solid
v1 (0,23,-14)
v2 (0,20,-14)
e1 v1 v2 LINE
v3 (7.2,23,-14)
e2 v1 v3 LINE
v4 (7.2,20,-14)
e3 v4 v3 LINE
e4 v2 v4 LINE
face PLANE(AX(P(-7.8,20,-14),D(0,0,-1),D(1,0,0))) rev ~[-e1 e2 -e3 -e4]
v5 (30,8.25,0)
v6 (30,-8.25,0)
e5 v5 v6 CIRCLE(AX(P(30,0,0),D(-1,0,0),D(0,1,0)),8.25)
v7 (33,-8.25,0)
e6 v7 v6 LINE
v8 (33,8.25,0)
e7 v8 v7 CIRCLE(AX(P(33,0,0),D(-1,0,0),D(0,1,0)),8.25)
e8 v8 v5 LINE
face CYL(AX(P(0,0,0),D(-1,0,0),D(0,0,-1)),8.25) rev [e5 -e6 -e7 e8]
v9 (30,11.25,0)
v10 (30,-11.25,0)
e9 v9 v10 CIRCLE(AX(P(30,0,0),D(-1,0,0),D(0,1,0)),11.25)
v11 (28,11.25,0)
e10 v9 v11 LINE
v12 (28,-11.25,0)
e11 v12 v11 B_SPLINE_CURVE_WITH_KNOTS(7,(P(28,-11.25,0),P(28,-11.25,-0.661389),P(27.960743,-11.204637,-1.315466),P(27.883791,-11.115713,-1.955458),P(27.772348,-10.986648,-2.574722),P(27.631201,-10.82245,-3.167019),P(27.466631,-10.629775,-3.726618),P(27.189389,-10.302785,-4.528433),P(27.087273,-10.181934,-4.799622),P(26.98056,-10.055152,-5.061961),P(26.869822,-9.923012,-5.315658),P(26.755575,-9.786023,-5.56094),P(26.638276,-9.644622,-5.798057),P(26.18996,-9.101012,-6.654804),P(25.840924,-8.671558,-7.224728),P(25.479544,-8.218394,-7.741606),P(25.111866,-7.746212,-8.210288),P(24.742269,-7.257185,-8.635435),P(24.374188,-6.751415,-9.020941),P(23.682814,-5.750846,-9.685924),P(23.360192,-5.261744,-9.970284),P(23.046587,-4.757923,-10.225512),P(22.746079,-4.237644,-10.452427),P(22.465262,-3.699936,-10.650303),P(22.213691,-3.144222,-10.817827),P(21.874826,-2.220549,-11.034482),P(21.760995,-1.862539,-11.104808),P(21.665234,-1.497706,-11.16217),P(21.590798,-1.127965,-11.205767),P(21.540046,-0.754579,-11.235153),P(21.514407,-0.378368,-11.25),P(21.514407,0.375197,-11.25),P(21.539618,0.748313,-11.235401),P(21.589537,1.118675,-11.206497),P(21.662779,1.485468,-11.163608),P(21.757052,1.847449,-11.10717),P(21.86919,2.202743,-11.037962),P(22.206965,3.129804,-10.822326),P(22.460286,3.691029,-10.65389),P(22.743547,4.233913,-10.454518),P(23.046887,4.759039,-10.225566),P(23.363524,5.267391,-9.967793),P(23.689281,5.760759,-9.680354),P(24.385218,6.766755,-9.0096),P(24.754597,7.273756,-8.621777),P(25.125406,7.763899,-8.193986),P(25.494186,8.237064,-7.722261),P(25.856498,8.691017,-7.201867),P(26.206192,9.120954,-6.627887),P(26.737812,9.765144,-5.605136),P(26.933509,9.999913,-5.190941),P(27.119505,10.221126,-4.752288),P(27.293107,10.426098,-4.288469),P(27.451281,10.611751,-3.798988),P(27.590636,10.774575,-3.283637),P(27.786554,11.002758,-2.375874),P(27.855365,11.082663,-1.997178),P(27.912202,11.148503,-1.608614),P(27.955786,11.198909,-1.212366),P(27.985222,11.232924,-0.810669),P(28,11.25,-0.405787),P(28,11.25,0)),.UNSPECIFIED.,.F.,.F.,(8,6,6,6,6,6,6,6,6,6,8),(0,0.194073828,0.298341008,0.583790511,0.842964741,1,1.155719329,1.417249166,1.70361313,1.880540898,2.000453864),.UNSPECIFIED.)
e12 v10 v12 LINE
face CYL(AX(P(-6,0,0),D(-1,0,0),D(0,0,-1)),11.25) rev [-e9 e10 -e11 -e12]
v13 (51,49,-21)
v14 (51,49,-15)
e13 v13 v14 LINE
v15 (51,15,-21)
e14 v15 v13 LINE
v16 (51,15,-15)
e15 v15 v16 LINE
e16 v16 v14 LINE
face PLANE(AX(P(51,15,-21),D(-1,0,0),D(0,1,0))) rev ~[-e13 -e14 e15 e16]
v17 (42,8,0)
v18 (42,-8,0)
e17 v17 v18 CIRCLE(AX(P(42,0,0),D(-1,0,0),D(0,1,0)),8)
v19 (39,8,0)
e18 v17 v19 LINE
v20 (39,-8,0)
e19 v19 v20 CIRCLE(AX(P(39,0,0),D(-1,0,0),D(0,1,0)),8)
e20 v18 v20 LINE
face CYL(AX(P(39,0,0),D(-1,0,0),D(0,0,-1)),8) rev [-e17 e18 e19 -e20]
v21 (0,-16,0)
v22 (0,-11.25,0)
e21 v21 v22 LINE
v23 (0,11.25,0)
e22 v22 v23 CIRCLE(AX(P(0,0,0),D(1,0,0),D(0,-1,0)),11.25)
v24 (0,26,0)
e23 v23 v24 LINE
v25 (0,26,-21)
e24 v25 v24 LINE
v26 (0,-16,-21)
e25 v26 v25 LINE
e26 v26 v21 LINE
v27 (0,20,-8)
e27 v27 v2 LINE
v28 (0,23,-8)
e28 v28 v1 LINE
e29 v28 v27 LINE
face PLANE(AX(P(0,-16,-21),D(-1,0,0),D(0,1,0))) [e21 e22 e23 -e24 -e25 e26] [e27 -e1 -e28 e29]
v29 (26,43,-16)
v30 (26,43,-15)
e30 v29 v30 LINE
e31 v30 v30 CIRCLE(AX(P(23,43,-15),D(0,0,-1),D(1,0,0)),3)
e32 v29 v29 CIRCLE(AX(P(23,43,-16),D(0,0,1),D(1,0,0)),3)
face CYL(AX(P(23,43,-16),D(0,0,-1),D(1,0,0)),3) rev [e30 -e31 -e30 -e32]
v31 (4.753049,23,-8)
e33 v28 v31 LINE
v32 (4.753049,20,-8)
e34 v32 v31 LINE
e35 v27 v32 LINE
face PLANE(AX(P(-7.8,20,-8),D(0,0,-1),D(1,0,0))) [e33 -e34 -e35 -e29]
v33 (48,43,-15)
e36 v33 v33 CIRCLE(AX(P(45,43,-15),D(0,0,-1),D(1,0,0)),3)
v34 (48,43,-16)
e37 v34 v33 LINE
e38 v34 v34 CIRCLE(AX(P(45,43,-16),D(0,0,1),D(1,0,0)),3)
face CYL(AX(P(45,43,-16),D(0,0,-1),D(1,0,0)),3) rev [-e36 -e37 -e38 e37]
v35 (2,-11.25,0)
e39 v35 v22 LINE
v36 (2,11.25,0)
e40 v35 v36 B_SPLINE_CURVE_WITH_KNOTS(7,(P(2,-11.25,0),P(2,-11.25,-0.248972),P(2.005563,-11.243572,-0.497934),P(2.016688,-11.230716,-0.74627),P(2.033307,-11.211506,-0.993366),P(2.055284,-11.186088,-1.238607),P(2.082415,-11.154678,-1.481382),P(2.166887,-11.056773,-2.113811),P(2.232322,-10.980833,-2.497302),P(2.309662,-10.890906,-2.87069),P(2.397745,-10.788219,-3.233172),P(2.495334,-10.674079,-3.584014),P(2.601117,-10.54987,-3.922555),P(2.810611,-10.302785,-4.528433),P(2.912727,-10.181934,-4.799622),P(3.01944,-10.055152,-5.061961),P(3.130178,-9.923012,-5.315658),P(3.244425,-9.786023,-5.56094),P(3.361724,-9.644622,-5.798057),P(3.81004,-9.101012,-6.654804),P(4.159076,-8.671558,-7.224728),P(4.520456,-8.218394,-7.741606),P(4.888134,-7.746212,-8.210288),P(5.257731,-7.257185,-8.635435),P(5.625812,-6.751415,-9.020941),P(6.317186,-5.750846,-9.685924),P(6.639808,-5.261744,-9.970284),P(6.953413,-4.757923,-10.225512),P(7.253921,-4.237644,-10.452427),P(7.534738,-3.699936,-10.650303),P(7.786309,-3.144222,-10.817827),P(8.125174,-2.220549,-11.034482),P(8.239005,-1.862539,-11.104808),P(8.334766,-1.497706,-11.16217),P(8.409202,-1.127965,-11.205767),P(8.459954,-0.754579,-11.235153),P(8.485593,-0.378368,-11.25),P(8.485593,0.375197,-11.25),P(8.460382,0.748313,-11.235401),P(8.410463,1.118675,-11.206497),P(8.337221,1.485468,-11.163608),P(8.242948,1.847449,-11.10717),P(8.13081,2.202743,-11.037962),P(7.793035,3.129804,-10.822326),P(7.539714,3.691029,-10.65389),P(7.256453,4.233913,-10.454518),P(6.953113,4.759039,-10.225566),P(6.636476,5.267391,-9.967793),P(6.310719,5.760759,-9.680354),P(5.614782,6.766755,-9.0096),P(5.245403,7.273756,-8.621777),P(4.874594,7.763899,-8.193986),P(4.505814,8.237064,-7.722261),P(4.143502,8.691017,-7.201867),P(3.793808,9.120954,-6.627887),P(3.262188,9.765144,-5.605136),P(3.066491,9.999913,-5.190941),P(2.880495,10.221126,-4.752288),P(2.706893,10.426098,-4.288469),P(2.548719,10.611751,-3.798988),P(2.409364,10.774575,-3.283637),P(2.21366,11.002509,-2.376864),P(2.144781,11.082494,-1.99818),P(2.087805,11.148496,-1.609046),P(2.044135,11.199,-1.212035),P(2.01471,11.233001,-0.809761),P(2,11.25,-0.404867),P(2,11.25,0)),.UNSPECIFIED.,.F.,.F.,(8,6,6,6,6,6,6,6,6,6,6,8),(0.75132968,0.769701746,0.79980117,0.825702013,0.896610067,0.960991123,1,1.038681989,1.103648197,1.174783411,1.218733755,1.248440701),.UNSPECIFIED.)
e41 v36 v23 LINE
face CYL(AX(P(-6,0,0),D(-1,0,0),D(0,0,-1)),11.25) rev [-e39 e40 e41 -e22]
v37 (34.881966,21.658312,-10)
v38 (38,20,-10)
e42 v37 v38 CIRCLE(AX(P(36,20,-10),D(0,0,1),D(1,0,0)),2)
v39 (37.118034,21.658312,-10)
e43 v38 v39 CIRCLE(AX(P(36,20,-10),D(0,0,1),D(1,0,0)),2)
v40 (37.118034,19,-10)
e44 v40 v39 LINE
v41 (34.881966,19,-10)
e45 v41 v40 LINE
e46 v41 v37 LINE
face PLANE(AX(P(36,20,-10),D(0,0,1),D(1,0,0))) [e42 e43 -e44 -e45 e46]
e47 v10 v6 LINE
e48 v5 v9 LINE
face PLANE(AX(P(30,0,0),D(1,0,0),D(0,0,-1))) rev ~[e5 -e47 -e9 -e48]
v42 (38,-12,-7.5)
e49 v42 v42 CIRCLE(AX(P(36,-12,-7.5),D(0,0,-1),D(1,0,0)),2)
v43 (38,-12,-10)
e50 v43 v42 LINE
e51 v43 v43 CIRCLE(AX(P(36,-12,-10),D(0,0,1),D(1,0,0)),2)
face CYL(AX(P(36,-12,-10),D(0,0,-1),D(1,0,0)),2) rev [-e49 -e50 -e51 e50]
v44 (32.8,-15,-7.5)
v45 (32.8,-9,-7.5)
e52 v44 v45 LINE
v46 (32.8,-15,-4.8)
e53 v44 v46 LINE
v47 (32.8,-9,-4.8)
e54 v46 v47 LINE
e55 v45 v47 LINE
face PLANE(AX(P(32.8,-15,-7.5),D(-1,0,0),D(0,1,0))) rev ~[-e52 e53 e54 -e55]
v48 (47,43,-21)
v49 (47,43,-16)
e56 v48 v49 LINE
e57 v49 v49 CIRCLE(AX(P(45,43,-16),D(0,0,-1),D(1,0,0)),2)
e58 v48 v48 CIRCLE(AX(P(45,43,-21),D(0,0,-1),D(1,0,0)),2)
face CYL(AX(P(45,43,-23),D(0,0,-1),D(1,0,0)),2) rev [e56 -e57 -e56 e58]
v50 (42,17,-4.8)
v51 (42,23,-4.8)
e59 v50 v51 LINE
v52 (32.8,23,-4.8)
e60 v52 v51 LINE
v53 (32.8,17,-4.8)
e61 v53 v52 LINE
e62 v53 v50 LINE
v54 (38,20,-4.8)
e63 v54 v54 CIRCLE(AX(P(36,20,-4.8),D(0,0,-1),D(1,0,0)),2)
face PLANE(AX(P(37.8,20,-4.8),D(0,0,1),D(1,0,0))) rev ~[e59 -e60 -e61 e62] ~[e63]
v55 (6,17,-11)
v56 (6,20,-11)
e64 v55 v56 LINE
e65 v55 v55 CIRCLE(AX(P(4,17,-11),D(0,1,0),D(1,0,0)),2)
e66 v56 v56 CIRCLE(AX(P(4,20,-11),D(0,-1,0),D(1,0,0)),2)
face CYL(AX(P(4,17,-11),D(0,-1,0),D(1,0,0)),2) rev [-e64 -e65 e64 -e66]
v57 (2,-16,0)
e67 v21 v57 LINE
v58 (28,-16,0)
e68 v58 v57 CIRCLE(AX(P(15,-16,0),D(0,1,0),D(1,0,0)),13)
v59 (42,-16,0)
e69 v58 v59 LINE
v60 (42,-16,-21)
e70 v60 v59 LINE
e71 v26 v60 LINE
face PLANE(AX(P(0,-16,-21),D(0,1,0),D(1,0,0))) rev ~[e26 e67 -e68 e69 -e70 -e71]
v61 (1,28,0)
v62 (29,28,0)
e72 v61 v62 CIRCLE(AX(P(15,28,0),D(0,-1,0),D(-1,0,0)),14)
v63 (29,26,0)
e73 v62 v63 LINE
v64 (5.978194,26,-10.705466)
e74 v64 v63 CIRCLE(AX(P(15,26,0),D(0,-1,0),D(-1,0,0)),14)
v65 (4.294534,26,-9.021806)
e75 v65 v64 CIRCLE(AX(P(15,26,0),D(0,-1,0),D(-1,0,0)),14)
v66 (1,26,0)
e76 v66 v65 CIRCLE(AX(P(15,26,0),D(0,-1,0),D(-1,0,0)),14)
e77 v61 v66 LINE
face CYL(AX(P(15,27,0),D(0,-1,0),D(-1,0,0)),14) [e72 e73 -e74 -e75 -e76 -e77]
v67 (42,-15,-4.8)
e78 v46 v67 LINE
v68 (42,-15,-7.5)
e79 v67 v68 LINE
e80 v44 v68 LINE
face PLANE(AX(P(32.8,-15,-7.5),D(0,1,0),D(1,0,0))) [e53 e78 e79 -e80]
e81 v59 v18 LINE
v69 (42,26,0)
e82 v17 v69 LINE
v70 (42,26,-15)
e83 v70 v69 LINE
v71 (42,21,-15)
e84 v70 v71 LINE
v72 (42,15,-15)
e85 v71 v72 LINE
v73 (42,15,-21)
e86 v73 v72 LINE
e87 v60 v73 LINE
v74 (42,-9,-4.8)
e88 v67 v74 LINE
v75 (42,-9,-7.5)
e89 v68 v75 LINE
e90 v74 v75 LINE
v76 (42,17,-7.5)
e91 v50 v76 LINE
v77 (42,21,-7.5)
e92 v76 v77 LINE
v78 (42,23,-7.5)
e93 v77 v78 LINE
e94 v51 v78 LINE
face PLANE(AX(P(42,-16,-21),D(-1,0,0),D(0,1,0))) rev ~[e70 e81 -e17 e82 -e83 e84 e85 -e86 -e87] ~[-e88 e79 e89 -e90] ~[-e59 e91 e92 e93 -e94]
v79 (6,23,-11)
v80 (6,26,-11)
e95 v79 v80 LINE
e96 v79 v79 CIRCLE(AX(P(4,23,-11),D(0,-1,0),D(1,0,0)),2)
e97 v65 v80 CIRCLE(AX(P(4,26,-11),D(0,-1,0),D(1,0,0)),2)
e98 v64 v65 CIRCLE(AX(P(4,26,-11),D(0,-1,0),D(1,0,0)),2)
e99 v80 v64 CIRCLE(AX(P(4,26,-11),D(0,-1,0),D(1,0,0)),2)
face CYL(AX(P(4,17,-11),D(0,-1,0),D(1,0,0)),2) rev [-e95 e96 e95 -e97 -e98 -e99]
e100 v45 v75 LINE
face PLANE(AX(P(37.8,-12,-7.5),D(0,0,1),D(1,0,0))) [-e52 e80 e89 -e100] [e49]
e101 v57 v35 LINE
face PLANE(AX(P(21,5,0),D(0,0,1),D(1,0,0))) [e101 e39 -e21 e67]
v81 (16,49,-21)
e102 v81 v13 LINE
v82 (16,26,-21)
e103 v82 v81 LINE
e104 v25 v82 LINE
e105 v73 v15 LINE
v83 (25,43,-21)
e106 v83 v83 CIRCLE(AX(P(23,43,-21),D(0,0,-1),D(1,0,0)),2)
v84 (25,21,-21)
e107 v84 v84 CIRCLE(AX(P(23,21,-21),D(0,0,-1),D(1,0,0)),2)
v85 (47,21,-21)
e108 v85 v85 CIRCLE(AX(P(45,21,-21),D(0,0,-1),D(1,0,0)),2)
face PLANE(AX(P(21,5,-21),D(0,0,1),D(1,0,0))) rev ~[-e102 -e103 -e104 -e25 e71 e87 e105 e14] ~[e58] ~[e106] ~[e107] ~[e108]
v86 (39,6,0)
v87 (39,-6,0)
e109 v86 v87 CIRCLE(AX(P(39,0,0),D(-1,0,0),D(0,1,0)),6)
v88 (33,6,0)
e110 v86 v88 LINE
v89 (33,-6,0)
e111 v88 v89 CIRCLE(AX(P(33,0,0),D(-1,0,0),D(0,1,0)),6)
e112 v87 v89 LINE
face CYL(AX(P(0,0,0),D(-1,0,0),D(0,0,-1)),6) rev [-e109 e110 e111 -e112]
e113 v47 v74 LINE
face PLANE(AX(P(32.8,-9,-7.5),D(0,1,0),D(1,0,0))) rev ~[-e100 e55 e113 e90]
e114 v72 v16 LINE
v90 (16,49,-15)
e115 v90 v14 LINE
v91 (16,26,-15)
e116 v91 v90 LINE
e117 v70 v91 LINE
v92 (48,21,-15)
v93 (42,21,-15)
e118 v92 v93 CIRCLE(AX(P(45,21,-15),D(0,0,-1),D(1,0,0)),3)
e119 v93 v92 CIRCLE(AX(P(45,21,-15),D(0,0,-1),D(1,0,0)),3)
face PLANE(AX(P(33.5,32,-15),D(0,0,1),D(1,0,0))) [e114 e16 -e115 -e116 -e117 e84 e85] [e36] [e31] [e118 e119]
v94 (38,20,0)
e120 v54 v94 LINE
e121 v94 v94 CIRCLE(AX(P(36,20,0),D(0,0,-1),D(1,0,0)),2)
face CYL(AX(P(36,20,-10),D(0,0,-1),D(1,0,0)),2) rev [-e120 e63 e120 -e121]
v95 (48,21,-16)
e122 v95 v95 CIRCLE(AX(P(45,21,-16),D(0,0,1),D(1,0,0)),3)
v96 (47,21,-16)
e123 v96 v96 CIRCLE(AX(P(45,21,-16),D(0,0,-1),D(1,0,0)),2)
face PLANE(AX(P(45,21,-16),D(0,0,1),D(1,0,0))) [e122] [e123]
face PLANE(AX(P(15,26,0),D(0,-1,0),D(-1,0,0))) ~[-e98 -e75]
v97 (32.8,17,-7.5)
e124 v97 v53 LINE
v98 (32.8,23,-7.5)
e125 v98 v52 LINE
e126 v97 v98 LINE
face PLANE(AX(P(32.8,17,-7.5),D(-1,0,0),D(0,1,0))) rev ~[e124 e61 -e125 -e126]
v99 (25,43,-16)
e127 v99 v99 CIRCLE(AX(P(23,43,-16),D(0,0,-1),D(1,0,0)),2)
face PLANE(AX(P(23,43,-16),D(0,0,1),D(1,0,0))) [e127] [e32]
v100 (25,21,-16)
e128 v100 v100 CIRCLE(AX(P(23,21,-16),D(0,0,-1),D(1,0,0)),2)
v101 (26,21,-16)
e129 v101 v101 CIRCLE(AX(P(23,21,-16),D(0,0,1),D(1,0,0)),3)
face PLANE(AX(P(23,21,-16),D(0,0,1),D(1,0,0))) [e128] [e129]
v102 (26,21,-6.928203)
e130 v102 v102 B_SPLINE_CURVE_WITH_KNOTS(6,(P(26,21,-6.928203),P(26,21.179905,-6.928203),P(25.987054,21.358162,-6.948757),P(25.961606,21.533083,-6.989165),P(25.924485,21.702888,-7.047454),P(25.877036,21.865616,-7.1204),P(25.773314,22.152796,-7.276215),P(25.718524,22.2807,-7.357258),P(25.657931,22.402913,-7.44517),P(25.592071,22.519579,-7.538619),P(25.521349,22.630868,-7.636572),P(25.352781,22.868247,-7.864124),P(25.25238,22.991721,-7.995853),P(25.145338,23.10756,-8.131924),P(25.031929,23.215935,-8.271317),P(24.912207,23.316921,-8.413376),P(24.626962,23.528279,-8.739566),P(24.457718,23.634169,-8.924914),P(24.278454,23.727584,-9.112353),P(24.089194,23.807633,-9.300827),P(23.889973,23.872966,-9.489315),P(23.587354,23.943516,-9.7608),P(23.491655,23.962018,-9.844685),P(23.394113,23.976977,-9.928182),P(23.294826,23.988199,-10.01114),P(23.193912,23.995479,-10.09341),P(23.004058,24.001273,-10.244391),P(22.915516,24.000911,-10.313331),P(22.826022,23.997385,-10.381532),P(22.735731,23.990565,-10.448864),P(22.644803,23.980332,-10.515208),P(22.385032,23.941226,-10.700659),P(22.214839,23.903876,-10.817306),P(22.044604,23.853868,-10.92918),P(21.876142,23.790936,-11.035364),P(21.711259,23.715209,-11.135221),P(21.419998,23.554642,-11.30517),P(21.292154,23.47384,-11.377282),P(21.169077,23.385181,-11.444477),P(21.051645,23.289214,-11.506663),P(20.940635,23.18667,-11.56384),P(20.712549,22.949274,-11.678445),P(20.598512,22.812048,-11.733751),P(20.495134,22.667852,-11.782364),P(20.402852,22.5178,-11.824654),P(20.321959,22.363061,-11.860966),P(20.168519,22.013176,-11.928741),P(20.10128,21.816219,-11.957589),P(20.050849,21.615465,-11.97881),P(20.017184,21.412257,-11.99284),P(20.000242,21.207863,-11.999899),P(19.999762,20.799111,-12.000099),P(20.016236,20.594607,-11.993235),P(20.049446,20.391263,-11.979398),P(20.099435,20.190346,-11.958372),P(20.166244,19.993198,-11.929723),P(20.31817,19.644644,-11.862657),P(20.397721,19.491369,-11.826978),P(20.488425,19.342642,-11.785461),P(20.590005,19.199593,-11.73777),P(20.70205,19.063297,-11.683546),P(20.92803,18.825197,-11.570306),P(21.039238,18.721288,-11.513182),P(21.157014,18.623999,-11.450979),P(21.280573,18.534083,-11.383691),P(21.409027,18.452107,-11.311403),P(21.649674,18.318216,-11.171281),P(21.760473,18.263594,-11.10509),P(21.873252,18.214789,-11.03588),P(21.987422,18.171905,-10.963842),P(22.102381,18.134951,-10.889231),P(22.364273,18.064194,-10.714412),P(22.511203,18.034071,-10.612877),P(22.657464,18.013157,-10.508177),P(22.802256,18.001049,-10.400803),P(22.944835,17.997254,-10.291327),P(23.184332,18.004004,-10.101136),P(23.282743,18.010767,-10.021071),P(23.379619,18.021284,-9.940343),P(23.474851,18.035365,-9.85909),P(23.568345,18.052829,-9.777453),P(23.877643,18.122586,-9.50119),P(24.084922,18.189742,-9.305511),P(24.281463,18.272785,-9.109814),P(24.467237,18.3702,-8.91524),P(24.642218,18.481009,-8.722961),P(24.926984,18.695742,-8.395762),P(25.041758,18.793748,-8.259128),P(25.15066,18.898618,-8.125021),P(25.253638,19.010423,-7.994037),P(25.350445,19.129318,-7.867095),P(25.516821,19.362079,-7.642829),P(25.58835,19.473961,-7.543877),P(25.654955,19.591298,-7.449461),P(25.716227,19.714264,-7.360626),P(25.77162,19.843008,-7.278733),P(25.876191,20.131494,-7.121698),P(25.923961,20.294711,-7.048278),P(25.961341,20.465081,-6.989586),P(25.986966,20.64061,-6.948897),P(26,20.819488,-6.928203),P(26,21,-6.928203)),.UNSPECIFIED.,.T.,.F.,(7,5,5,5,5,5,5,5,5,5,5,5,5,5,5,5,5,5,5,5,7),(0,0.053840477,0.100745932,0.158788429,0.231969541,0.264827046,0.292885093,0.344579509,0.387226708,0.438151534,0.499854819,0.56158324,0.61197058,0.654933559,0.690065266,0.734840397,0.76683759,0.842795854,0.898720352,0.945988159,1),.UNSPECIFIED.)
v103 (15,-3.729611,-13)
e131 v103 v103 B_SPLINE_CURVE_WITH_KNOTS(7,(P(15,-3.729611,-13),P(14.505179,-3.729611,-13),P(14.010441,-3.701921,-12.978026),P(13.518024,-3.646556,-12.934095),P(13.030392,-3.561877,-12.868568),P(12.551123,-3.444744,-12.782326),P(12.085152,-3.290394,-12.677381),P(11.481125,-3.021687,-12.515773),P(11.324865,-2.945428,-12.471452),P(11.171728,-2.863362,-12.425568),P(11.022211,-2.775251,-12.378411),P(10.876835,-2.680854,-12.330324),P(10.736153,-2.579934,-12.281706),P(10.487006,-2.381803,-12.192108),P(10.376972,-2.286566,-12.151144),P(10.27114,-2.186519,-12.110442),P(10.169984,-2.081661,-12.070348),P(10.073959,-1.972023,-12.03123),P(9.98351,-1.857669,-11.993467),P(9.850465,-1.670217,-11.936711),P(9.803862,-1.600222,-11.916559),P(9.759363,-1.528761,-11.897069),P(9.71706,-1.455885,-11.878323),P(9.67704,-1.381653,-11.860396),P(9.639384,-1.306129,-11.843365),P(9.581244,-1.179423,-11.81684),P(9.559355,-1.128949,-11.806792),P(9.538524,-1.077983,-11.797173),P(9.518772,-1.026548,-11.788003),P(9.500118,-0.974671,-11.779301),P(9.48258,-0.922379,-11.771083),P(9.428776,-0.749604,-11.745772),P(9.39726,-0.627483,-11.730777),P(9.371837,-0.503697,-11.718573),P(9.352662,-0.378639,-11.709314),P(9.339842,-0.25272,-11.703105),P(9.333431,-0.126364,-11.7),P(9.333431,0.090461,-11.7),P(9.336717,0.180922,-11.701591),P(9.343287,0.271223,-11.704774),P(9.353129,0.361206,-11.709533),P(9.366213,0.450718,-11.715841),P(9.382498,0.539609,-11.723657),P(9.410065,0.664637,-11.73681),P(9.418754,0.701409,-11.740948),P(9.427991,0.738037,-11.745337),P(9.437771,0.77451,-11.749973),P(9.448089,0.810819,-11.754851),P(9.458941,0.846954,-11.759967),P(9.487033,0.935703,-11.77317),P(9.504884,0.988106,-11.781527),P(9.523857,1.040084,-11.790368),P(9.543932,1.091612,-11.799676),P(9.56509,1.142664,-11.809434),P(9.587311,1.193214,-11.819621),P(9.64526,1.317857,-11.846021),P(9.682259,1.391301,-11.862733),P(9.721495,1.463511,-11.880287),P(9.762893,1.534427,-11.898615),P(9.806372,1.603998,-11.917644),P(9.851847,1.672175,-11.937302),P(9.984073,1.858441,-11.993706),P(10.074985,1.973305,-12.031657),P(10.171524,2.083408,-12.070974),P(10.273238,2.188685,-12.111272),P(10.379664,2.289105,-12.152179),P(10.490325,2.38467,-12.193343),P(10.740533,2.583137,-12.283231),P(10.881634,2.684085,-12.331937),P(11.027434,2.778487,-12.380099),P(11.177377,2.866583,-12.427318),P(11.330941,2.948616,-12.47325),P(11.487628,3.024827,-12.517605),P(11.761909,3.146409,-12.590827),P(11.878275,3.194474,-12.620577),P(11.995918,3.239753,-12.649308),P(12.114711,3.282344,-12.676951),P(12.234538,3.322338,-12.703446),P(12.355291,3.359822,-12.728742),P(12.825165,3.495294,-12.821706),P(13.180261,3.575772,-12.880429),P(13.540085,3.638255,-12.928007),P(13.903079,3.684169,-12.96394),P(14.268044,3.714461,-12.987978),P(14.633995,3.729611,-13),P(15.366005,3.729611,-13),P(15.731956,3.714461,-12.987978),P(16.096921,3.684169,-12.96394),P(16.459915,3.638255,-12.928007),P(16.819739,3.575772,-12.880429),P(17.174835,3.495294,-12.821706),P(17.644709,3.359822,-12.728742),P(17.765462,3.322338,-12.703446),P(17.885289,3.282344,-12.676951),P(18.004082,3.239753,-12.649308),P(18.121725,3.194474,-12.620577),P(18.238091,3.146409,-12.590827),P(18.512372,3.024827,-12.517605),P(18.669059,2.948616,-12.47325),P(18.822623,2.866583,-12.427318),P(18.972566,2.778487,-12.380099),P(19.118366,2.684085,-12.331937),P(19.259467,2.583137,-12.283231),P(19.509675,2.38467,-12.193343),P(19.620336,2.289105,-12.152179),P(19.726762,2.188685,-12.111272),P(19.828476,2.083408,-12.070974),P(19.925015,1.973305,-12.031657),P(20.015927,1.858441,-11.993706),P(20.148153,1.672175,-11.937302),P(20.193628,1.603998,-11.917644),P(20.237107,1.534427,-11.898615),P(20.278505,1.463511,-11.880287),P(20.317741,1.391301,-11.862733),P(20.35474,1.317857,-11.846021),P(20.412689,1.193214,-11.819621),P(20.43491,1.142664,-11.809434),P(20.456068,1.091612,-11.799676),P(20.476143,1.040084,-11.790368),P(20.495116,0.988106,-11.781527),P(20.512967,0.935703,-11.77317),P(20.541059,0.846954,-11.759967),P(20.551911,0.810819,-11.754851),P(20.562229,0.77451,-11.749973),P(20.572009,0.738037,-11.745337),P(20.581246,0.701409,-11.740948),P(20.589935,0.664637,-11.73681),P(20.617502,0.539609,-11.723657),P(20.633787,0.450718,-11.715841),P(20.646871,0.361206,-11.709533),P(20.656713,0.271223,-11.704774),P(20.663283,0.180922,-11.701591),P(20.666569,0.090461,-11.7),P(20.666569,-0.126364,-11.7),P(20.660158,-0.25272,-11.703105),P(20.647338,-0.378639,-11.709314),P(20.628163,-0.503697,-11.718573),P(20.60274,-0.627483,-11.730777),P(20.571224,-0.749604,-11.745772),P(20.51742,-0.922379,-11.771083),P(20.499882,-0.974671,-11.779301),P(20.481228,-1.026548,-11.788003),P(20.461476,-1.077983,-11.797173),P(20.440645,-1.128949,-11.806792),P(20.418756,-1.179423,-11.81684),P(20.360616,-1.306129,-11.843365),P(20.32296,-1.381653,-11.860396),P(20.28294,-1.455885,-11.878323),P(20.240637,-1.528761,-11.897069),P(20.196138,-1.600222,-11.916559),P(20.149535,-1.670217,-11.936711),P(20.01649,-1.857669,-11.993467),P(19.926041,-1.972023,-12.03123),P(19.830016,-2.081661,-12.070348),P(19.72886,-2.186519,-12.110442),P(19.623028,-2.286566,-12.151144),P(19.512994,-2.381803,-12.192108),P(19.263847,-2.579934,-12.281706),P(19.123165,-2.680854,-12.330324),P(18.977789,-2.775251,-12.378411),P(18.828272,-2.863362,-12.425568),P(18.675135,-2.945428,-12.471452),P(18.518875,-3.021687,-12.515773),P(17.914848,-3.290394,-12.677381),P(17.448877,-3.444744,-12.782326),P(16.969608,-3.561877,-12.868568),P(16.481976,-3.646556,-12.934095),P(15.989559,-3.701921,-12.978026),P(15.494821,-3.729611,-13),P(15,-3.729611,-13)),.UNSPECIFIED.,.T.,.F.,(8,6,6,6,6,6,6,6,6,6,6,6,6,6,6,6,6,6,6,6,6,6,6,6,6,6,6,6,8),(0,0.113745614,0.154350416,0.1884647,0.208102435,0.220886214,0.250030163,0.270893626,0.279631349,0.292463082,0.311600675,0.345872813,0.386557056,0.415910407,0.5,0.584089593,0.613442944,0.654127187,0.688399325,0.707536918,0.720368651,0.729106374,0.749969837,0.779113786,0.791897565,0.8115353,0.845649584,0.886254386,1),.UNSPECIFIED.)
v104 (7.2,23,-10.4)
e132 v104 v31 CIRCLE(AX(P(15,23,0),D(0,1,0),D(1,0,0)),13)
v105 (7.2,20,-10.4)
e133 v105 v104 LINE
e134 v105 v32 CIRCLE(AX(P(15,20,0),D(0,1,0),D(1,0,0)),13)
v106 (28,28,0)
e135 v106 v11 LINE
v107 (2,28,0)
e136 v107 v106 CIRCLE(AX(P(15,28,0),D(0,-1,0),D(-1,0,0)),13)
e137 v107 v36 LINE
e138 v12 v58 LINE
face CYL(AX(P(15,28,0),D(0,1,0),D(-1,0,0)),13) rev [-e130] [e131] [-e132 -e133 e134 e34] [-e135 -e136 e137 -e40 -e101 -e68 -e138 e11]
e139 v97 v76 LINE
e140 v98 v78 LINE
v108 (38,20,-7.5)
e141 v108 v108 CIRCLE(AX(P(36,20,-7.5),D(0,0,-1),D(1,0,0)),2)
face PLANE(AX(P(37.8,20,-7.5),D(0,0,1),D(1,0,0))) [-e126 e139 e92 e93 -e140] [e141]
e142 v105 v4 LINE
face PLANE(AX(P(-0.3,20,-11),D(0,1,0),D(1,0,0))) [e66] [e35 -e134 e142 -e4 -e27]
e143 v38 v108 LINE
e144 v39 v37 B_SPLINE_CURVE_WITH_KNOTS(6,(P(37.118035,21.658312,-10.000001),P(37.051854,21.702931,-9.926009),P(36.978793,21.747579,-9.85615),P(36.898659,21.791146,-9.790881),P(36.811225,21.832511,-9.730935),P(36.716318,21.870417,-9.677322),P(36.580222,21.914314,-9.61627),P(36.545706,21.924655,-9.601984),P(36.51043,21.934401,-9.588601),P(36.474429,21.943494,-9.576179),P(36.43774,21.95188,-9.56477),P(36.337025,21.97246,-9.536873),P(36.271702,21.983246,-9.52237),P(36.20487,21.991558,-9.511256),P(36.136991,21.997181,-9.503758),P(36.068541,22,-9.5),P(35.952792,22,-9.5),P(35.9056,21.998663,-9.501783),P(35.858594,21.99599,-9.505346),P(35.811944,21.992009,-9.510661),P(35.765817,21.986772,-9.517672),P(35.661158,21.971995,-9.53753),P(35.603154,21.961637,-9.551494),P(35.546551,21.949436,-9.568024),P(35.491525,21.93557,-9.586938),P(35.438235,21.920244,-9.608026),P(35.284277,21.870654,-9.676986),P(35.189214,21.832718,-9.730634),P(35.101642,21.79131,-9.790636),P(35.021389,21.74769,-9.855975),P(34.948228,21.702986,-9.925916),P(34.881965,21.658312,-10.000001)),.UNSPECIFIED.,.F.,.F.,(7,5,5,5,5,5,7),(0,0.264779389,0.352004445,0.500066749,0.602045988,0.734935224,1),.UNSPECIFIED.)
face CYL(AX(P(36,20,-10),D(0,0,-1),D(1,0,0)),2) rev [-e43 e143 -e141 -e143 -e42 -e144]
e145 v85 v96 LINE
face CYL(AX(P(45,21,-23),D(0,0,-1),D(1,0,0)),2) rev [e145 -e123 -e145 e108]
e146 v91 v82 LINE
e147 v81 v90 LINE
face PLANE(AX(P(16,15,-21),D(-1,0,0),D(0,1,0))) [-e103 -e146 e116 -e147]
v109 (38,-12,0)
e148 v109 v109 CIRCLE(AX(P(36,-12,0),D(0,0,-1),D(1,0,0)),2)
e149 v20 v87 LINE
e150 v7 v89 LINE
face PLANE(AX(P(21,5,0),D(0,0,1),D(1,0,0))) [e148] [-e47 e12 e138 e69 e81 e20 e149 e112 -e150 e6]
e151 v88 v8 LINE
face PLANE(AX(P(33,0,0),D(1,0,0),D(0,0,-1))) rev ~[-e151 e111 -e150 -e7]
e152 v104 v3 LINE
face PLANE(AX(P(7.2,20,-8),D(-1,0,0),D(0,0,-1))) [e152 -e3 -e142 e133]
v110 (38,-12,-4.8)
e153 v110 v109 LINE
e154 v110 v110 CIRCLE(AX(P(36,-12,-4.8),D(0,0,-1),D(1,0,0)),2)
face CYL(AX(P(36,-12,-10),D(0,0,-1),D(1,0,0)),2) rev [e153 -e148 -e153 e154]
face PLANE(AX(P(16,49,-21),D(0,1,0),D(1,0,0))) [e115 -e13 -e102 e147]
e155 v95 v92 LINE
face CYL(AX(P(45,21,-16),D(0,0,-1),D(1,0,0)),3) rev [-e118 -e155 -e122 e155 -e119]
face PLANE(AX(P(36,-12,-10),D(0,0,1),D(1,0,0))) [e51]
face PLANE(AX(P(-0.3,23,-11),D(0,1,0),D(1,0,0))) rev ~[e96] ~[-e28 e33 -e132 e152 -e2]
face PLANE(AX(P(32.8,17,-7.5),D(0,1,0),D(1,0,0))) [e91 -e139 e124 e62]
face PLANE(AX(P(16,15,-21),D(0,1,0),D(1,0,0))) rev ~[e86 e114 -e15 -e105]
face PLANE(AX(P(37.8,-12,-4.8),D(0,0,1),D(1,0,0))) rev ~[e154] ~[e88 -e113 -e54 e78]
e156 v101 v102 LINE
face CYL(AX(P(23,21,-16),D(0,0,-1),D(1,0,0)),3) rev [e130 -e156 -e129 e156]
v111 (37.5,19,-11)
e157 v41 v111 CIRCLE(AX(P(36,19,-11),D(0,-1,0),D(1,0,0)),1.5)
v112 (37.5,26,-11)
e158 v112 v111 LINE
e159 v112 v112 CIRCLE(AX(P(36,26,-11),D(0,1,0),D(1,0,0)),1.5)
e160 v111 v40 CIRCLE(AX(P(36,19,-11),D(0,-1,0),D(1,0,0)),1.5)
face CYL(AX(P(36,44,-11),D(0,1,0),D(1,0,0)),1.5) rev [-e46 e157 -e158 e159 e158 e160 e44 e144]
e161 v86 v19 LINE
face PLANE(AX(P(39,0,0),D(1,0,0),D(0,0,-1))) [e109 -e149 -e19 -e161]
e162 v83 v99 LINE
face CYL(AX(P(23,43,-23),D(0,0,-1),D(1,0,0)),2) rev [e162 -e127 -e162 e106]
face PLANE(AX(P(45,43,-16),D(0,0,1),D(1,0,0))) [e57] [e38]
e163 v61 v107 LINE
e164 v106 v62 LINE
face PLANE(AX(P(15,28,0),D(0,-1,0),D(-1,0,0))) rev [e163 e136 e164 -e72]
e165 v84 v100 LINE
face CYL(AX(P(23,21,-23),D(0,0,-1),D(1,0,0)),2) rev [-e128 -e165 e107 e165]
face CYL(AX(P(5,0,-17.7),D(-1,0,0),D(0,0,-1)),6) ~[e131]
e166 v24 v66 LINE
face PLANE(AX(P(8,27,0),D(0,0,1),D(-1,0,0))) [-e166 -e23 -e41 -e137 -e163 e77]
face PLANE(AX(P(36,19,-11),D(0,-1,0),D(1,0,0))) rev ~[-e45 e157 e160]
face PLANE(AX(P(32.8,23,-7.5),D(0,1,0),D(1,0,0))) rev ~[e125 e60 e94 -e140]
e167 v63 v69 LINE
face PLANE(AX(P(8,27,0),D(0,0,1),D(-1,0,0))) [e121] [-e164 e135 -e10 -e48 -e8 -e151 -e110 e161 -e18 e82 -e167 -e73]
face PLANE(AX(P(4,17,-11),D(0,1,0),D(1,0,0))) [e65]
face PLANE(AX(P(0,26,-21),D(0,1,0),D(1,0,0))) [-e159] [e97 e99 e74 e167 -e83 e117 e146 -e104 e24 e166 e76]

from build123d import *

# Parameters (mm, degrees)
CYLINDER078_R             = 13
CYLINDER078_DEPTH         = 2.2
CYLINDER078_ROLL_ANGLE    = 90
CYLINDER077_W             = 14
CYLINDER077_H             = 2
CYLINDER077_ANGLE         = 180
CYLINDER077_ROLL_ANGLE    = 90
CUT010007_PLACEMENT_ANGLE = 180
CYLINDER014_R             = 3
CYLINDER014_DEPTH         = 11
CYLINDER013_R             = 2
CYLINDER013_DEPTH         = 18
CYLINDER012_R             = 3
CYLINDER012_DEPTH         = 11
CYLINDER011_R             = 2
CYLINDER011_DEPTH         = 18
CYLINDER010_R             = 3
CYLINDER010_DEPTH         = 11
CYLINDER009_R             = 2
CYLINDER009_DEPTH         = 18
CYLINDER008_R             = 3
CYLINDER008_DEPTH         = 11
CYLINDER007_R             = 2
CYLINDER007_DEPTH         = 18
BOX007_W                  = 10
BOX007_H                  = 6
BOX007_DEPTH              = 2.7
CYLINDER019_R             = 3
CYLINDER019_DEPTH         = 11
CYLINDER018_R             = 2
CYLINDER018_DEPTH         = 22
BOX006_W                  = 10
BOX006_H                  = 6
BOX006_DEPTH              = 2.7
CYLINDER017_R             = 3
CYLINDER017_DEPTH         = 11
CYLINDER016_R             = 2
CYLINDER016_DEPTH         = 22
CYLINDER033_R             = 5
CYLINDER033_DEPTH         = 2.2
CYLINDER033_ROLL_ANGLE    = 90
CYLINDER042_R             = 2
CYLINDER042_DEPTH         = 25
PRISM003_DEPTH            = 10
FUSION031_ROLL_ANGLE      = -90
CYLINDER043_R             = 1.5
CYLINDER043_DEPTH         = 25
CYLINDER041_R             = 2
CYLINDER041_DEPTH         = 25
FUSION032_ROLL_ANGLE      = 90
BOX014_W                  = 15
BOX014_H                  = 6
BOX014_DEPTH              = 3
CYLINDER045_R             = 1.5
CYLINDER045_DEPTH         = 25
CYLINDER044_R             = 2
CYLINDER044_DEPTH         = 32
FUSION033_ROLL_ANGLE      = -90
CYLINDER040_R             = 2
CYLINDER040_DEPTH         = 25
PRISM002_DEPTH            = 10
FUSION030_ROLL_ANGLE      = -90
CYLINDER005_R             = 6
CYLINDER005_DEPTH         = 20
CYLINDER005_PITCH_ANGLE   = 90
CYLINDER006_R             = 6
CYLINDER006_DEPTH         = 20
CYLINDER006_PITCH_ANGLE   = 90
CYLINDER004_R             = 13
CYLINDER004_DEPTH         = 60
CYLINDER004_ROLL_ANGLE    = 90
CYLINDER003_R             = 8
CYLINDER003_DEPTH         = 3
CYLINDER003_PITCH_ANGLE   = 90
CYLINDER002_R             = 6
CYLINDER002_DEPTH         = 39
CYLINDER002_PITCH_ANGLE   = 90
CYLINDER001_R             = 8.25
CYLINDER001_DEPTH         = 33
CYLINDER001_PITCH_ANGLE   = 90
CYLINDER_R                = 11.25
CYLINDER_DEPTH            = 36
CYLINDER_PITCH_ANGLE      = 90
BOX_W                     = 42
BOX_H                     = 42
BOX_DEPTH                 = 21
BOX002_W                  = 35
BOX002_H                  = 34
BOX002_DEPTH              = 6


with BuildPart() as fanmuffeinner002:
    # Cylinder078 → Cylinder078 (new body)
    with BuildSketch(Plane.XY):
        Circle(CYLINDER078_R)
    extrude(amount=CYLINDER078_DEPTH)


with BuildPart() as fanmuffeinner002_1:
    # Cylinder078 roll: moved
    add(fanmuffeinner002.part.rotate(Axis((0, 0, 0), (1, 0, 0)), CYLINDER078_ROLL_ANGLE))


with BuildPart() as fanmuffeinner002_2:
    # Cylinder078 placement: moved
    add(fanmuffeinner002_1.part.moved(Location((15, 29, 0))))


with BuildPart() as fancouplering_unterschale:
    # Cylinder077 → Cylinder077 (revolve)
    with BuildSketch(Plane.XZ):
        with Locations((7, 1)):
            Rectangle(CYLINDER077_W, CYLINDER077_H)
    revolve(axis=Axis((0, 0, 0), (0, 0, 1)), revolution_arc=CYLINDER077_ANGLE)


with BuildPart() as fancouplering_unterschale_1:
    # Cylinder077 roll: moved
    add(fancouplering_unterschale.part.rotate(Axis((0, 0, 0), (1, 0, 0)), CYLINDER077_ROLL_ANGLE))


with BuildPart() as fancouplering_unterschale_2:
    # Cylinder077 placement: moved
    add(fancouplering_unterschale_1.part.moved(Location((15, 29, 0))))

    # Cut010007: cut FanMuffeInner002
    add(fanmuffeinner002_2.part, mode=Mode.SUBTRACT)


with BuildPart() as fancouplering_unterschale_3:
    # Cut010007 placement: moved
    add(fancouplering_unterschale_2.part.moved(Location((30, -1, 0))).rotate(Axis((30, -1, 0), (0, 1, 0)), CUT010007_PLACEMENT_ANGLE))


with BuildPart() as cylinder014:
    # Cylinder014 → Cylinder014 (new body)
    with BuildSketch(Plane(origin=(45, 21, -12), x_dir=(1, 0, 0), z_dir=(0, 0, 1))):
        Circle(CYLINDER014_R)
    extrude(amount=CYLINDER014_DEPTH)


with BuildPart() as fusion005:
    # Cylinder013 → Cylinder013 (new body)
    with BuildSketch(Plane(origin=(45, 21, -19), x_dir=(1, 0, 0), z_dir=(0, 0, 1))):
        Circle(CYLINDER013_R)
    extrude(amount=CYLINDER013_DEPTH)

    # Fusion005: union Cylinder014
    add(cylinder014.part)


with BuildPart() as fusion005_1:
    # Fusion005 placement: moved
    add(fusion005.part.moved(Location((0, 22, 0))))


with BuildPart() as cylinder012:
    # Cylinder012 → Cylinder012 (new body)
    with BuildSketch(Plane(origin=(45, 21, -12), x_dir=(1, 0, 0), z_dir=(0, 0, 1))):
        Circle(CYLINDER012_R)
    extrude(amount=CYLINDER012_DEPTH)


with BuildPart() as fusion004:
    # Cylinder011 → Cylinder011 (new body)
    with BuildSketch(Plane(origin=(45, 21, -19), x_dir=(1, 0, 0), z_dir=(0, 0, 1))):
        Circle(CYLINDER011_R)
    extrude(amount=CYLINDER011_DEPTH)

    # Fusion004: union Cylinder012
    add(cylinder012.part)


with BuildPart() as fusion004_1:
    # Fusion004 placement: moved
    add(fusion004.part.moved(Location((-22, 22, 0))))


with BuildPart() as cylinder010:
    # Cylinder010 → Cylinder010 (new body)
    with BuildSketch(Plane(origin=(45, 21, -12), x_dir=(1, 0, 0), z_dir=(0, 0, 1))):
        Circle(CYLINDER010_R)
    extrude(amount=CYLINDER010_DEPTH)


with BuildPart() as fusion003:
    # Cylinder009 → Cylinder009 (new body)
    with BuildSketch(Plane(origin=(45, 21, -19), x_dir=(1, 0, 0), z_dir=(0, 0, 1))):
        Circle(CYLINDER009_R)
    extrude(amount=CYLINDER009_DEPTH)

    # Fusion003: union Cylinder010
    add(cylinder010.part)


with BuildPart() as fusion003_1:
    # Fusion003 placement: moved
    add(fusion003.part.moved(Location((-22, 0, 0))))


with BuildPart() as cylinder008:
    # Cylinder008 → Cylinder008 (new body)
    with BuildSketch(Plane(origin=(45, 21, -12), x_dir=(1, 0, 0), z_dir=(0, 0, 1))):
        Circle(CYLINDER008_R)
    extrude(amount=CYLINDER008_DEPTH)


with BuildPart() as montagebohrungen:
    # Cylinder007 → Cylinder007 (new body)
    with BuildSketch(Plane(origin=(45, 21, -19), x_dir=(1, 0, 0), z_dir=(0, 0, 1))):
        Circle(CYLINDER007_R)
    extrude(amount=CYLINDER007_DEPTH)

    # Fusion002: union Cylinder008
    add(cylinder008.part)

    # Fusion006: union Fusion005, Fusion004, Fusion003
    add(fusion005_1.part)
    add(fusion004_1.part)
    add(fusion003_1.part)


with BuildPart() as montagebohrungen_1:
    # Fusion006 placement: moved
    add(montagebohrungen.part.moved(Location((0, 0, -4))))


with BuildPart() as cube004:
    # Box007 → Box007 (new body)
    with BuildSketch(Plane(origin=(41.8, 14, -7.5), x_dir=(1, 0, 0), z_dir=(0, 0, 1))):
        with Locations((5, 3)):
            Rectangle(BOX007_W, BOX007_H)
    extrude(amount=BOX007_DEPTH)


with BuildPart() as cylinder019:
    # Cylinder019 → Cylinder019 (new body)
    with BuildSketch(Plane(origin=(45, 21, -12), x_dir=(1, 0, 0), z_dir=(0, 0, 1))):
        Circle(CYLINDER019_R)
    extrude(amount=CYLINDER019_DEPTH)


with BuildPart() as fusion012:
    # Cylinder018 → Cylinder018 (new body)
    with BuildSketch(Plane(origin=(45, 21, -34), x_dir=(1, 0, 0), z_dir=(0, 0, 1))):
        Circle(CYLINDER018_R)
    extrude(amount=CYLINDER018_DEPTH)

    # Fusion011: union Cylinder019
    add(cylinder019.part)


with BuildPart() as fusion012_1:
    # Fusion011 placement: moved
    add(fusion012.part.moved(Location((0, -4, 24))))

    # Fusion012: union Cube004
    add(cube004.part)


with BuildPart() as fusion012_2:
    # Fusion012 placement: moved
    add(fusion012_1.part.moved(Location((-9, -29, 0))))


with BuildPart() as cube003:
    # Box006 → Box006 (new body)
    with BuildSketch(Plane(origin=(41.8, 14, -7.5), x_dir=(1, 0, 0), z_dir=(0, 0, 1))):
        with Locations((5, 3)):
            Rectangle(BOX006_W, BOX006_H)
    extrude(amount=BOX006_DEPTH)


with BuildPart() as cylinder017:
    # Cylinder017 → Cylinder017 (new body)
    with BuildSketch(Plane(origin=(45, 21, -12), x_dir=(1, 0, 0), z_dir=(0, 0, 1))):
        Circle(CYLINDER017_R)
    extrude(amount=CYLINDER017_DEPTH)


with BuildPart() as schalenbohrung_unterschahle:
    # Cylinder016 → Cylinder016 (new body)
    with BuildSketch(Plane(origin=(45, 21, -34), x_dir=(1, 0, 0), z_dir=(0, 0, 1))):
        Circle(CYLINDER016_R)
    extrude(amount=CYLINDER016_DEPTH)

    # Fusion009: union Cylinder017
    add(cylinder017.part)


with BuildPart() as schalenbohrung_unterschahle_1:
    # Fusion009 placement: moved
    add(schalenbohrung_unterschahle.part.moved(Location((0, -4, 24))))

    # Fusion010: union Cube003
    add(cube003.part)


with BuildPart() as schalenbohrung_unterschahle_2:
    # Fusion010 placement: moved
    add(schalenbohrung_unterschahle_1.part.moved(Location((-9, 3, 0))))

    # Fusion013: union Fusion012
    add(fusion012_2.part)


with BuildPart() as fanmuffe_unterschahle:
    # Cylinder033 → Cylinder033 (new body)
    with BuildSketch(Plane.XY):
        Circle(CYLINDER033_R)
    extrude(amount=CYLINDER033_DEPTH)


with BuildPart() as fanmuffe_unterschahle_1:
    # Cylinder033 roll: moved
    add(fanmuffe_unterschahle.part.rotate(Axis((0, 0, 0), (1, 0, 0)), CYLINDER033_ROLL_ANGLE))


with BuildPart() as fanmuffe_unterschahle_2:
    # Cylinder033 placement: moved
    add(fanmuffe_unterschahle_1.part.moved(Location((15, 26, 0))))


with BuildPart() as cylinder042:
    # Cylinder042 → Cylinder042 (new body)
    with BuildSketch(Plane(origin=(70, 70, 0), x_dir=(1, 0, 0), z_dir=(0, 0, 1))):
        Circle(CYLINDER042_R)
    extrude(amount=CYLINDER042_DEPTH)


with BuildPart() as bohrungmitmutter003:
    # Prism003 → Prism003 (new body)
    with BuildSketch(Plane(origin=(70, 70, 0), x_dir=(1, 0, 0), z_dir=(0, 0, 1))):
        Polygon((3.1, 0), (1.55, 2.684679), (-1.55, 2.684679), (-3.1, 0), (-1.55, -2.684679), (1.55, -2.684679), align=None)
    extrude(amount=PRISM003_DEPTH)

    # Fusion031: union Cylinder042
    add(cylinder042.part)


with BuildPart() as bohrungmitmutter003_1:
    # Fusion031 roll: moved
    add(bohrungmitmutter003.part.rotate(Axis((0, 0, 0), (1, 0, 0)), FUSION031_ROLL_ANGLE))


with BuildPart() as bohrungmitmutter003_2:
    # Fusion031 placement: moved
    add(bohrungmitmutter003_1.part.moved(Location((-34, 19, 91))))


with BuildPart() as cylinder043:
    # Cylinder043 → Cylinder043 (new body)
    with BuildSketch(Plane(origin=(70, 70, 7), x_dir=(1, 0, 0), z_dir=(0, 0, 1))):
        Circle(CYLINDER043_R)
    extrude(amount=CYLINDER043_DEPTH)


with BuildPart() as bohrungdirekt001:
    # Cylinder041 → Cylinder041 (new body)
    with BuildSketch(Plane(origin=(70, 70, 0), x_dir=(1, 0, 0), z_dir=(0, 0, 1))):
        Circle(CYLINDER041_R)
    extrude(amount=CYLINDER041_DEPTH)

    # Fusion032: union Cylinder043
    add(cylinder043.part)


with BuildPart() as bohrungdirekt001_1:
    # Fusion032 roll: moved
    add(bohrungdirekt001.part.rotate(Axis((0, 0, 0), (1, 0, 0)), FUSION032_ROLL_ANGLE))


with BuildPart() as bohrungdirekt001_2:
    # Fusion032 placement: moved
    add(bohrungdirekt001_1.part.moved(Location((-34, 52, -81))))


with BuildPart() as cube011:
    # Box014 → Box014 (new body)
    with BuildSketch(Plane(origin=(58.2, 67, 3), x_dir=(1, 0, 0), z_dir=(0, 0, 1))):
        with Locations((7.5, 3)):
            Rectangle(BOX014_W, BOX014_H)
    extrude(amount=BOX014_DEPTH)


with BuildPart() as cylinder045:
    # Cylinder045 → Cylinder045 (new body)
    with BuildSketch(Plane(origin=(70, 70, 7), x_dir=(1, 0, 0), z_dir=(0, 0, 1))):
        Circle(CYLINDER045_R)
    extrude(amount=CYLINDER045_DEPTH)


with BuildPart() as fusion033:
    # Cylinder044 → Cylinder044 (new body)
    with BuildSketch(Plane(origin=(70, 70, 0), x_dir=(1, 0, 0), z_dir=(0, 0, 1))):
        Circle(CYLINDER044_R)
    extrude(amount=CYLINDER044_DEPTH)

    # Fusion033: union Cube011, Cylinder045
    add(cube011.part)
    add(cylinder045.part)


with BuildPart() as fusion033_1:
    # Fusion033 roll: moved
    add(fusion033.part.rotate(Axis((0, 0, 0), (1, 0, 0)), FUSION033_ROLL_ANGLE))


with BuildPart() as fusion033_2:
    # Fusion033 placement: moved
    add(fusion033_1.part.moved(Location((-66, 18, 59))))


with BuildPart() as cylinder040:
    # Cylinder040 → Cylinder040 (new body)
    with BuildSketch(Plane(origin=(70, 70, 0), x_dir=(1, 0, 0), z_dir=(0, 0, 1))):
        Circle(CYLINDER040_R)
    extrude(amount=CYLINDER040_DEPTH)


with BuildPart() as bohrungfanmount_unterschahle:
    # Prism002 → Prism002 (new body)
    with BuildSketch(Plane(origin=(70, 70, 0), x_dir=(1, 0, 0), z_dir=(0, 0, 1))):
        Polygon((3.1, 0), (1.55, 2.684679), (-1.55, 2.684679), (-3.1, 0), (-1.55, -2.684679), (1.55, -2.684679), align=None)
    extrude(amount=PRISM002_DEPTH)

    # Fusion030: union Cylinder040
    add(cylinder040.part)


with BuildPart() as bohrungfanmount_unterschahle_1:
    # Fusion030 roll: moved
    add(bohrungfanmount_unterschahle.part.rotate(Axis((0, 0, 0), (1, 0, 0)), FUSION030_ROLL_ANGLE))


with BuildPart() as bohrungfanmount_unterschahle_2:
    # Fusion030 placement: moved
    add(bohrungfanmount_unterschahle_1.part.moved(Location((-66, 19, 91))))

    # Fusion034: union BohrungMitMutter003, BohrungDirekt001, Fusion033
    add(bohrungmitmutter003_2.part)
    add(bohrungdirekt001_2.part)
    add(fusion033_2.part)


with BuildPart() as bohrungfanmount_unterschahle_3:
    # Fusion034 placement: moved
    add(bohrungfanmount_unterschahle_2.part.moved(Location((0, -1, 0))))


with BuildPart() as cylinder005:
    # Cylinder005 → Cylinder005 (new body)
    with BuildSketch(Plane.XY):
        Circle(CYLINDER005_R)
    extrude(amount=CYLINDER005_DEPTH)


with BuildPart() as cylinder005_1:
    # Cylinder005 pitch: moved
    add(cylinder005.part.rotate(Axis((0, 0, 0), (0, 1, 0)), CYLINDER005_PITCH_ANGLE))


with BuildPart() as cylinder005_2:
    # Cylinder005 placement: moved
    add(cylinder005_1.part.moved(Location((5, 0, 17.7))))


with BuildPart() as fusion:
    # Cylinder006 → Cylinder006 (new body)
    with BuildSketch(Plane.XY):
        Circle(CYLINDER006_R)
    extrude(amount=CYLINDER006_DEPTH)


with BuildPart() as fusion_1:
    # Cylinder006 pitch: moved
    add(fusion.part.rotate(Axis((0, 0, 0), (0, 1, 0)), CYLINDER006_PITCH_ANGLE))


with BuildPart() as fusion_2:
    # Cylinder006 placement: moved
    add(fusion_1.part.moved(Location((5, 0, -17.7))))

    # Fusion: union Cylinder005
    add(cylinder005_2.part)


with BuildPart() as cut:
    # Cylinder004 → Cylinder004 (new body)
    with BuildSketch(Plane.XY):
        Circle(CYLINDER004_R)
    extrude(amount=CYLINDER004_DEPTH)


with BuildPart() as cut_1:
    # Cylinder004 roll: moved
    add(cut.part.rotate(Axis((0, 0, 0), (1, 0, 0)), CYLINDER004_ROLL_ANGLE))


with BuildPart() as cut_2:
    # Cylinder004 placement: moved
    add(cut_1.part.moved(Location((15, 38, 0))))

    # Cut: cut Fusion
    add(fusion_2.part, mode=Mode.SUBTRACT)


with BuildPart() as cylinder003:
    # Cylinder003 → Cylinder003 (new body)
    with BuildSketch(Plane.XY):
        Circle(CYLINDER003_R)
    extrude(amount=CYLINDER003_DEPTH)


with BuildPart() as cylinder003_1:
    # Cylinder003 pitch: moved
    add(cylinder003.part.rotate(Axis((0, 0, 0), (0, 1, 0)), CYLINDER003_PITCH_ANGLE))


with BuildPart() as cylinder003_2:
    # Cylinder003 placement: moved
    add(cylinder003_1.part.moved(Location((39, 0, 0))))


with BuildPart() as cylinder002:
    # Cylinder002 → Cylinder002 (new body)
    with BuildSketch(Plane.XY):
        Circle(CYLINDER002_R)
    extrude(amount=CYLINDER002_DEPTH)


with BuildPart() as cylinder002_1:
    # Cylinder002 pitch: moved
    add(cylinder002.part.rotate(Axis((0, 0, 0), (0, 1, 0)), CYLINDER002_PITCH_ANGLE))


with BuildPart() as cylinder002_2:
    # Cylinder002 placement: moved
    add(cylinder002_1.part)


with BuildPart() as cylinder001:
    # Cylinder001 → Cylinder001 (new body)
    with BuildSketch(Plane.XY):
        Circle(CYLINDER001_R)
    extrude(amount=CYLINDER001_DEPTH)


with BuildPart() as cylinder001_1:
    # Cylinder001 pitch: moved
    add(cylinder001.part.rotate(Axis((0, 0, 0), (0, 1, 0)), CYLINDER001_PITCH_ANGLE))


with BuildPart() as cylinder001_2:
    # Cylinder001 placement: moved
    add(cylinder001_1.part)


with BuildPart() as bohrungunterschale:
    # Cylinder → Cylinder (new body)
    with BuildSketch(Plane.XY):
        Circle(CYLINDER_R)
    extrude(amount=CYLINDER_DEPTH)


with BuildPart() as bohrungunterschale_1:
    # Cylinder pitch: moved
    add(bohrungunterschale.part.rotate(Axis((0, 0, 0), (0, 1, 0)), CYLINDER_PITCH_ANGLE))


with BuildPart() as bohrungunterschale_2:
    # Cylinder placement: moved
    add(bohrungunterschale_1.part.moved(Location((-6, 0, 0))))

    # Fusion001: union Cut, Cylinder003, Cylinder002, Cylinder001
    add(cut_2.part)
    add(cylinder003_2.part)
    add(cylinder002_2.part)
    add(cylinder001_2.part)

    # Fusion036: union MontageBohrungen, SchalenBohrung_UnterSchahle, FanMuffe_UnterSchahle, BohrungFanMount_Unterschahle
    add(montagebohrungen_1.part)
    add(schalenbohrung_unterschahle_2.part)
    add(fanmuffe_unterschahle_2.part)
    add(bohrungfanmount_unterschahle_3.part)


with BuildPart() as cubeunterschale:
    # Box → Box (new body)
    with BuildSketch(Plane(origin=(0, -16, -21), x_dir=(1, 0, 0), z_dir=(0, 0, 1))):
        with Locations((21, 21)):
            Rectangle(BOX_W, BOX_H)
    extrude(amount=BOX_DEPTH)


with BuildPart() as unterschale:
    # Box002 → Box002 (new body)
    with BuildSketch(Plane(origin=(16, 15, -21), x_dir=(1, 0, 0), z_dir=(0, 0, 1))):
        with Locations((17.5, 17)):
            Rectangle(BOX002_W, BOX002_H)
    extrude(amount=BOX002_DEPTH)

    # Fusion035: union CubeUnterschale
    add(cubeunterschale.part)

    # Cut007: cut BohrungUnterSchale
    add(bohrungunterschale_2.part, mode=Mode.SUBTRACT)

    # Fusion057: union FanCoupleRing_UnterSchale
    add(fancouplering_unterschale_3.part)


solid = unterschale.part
